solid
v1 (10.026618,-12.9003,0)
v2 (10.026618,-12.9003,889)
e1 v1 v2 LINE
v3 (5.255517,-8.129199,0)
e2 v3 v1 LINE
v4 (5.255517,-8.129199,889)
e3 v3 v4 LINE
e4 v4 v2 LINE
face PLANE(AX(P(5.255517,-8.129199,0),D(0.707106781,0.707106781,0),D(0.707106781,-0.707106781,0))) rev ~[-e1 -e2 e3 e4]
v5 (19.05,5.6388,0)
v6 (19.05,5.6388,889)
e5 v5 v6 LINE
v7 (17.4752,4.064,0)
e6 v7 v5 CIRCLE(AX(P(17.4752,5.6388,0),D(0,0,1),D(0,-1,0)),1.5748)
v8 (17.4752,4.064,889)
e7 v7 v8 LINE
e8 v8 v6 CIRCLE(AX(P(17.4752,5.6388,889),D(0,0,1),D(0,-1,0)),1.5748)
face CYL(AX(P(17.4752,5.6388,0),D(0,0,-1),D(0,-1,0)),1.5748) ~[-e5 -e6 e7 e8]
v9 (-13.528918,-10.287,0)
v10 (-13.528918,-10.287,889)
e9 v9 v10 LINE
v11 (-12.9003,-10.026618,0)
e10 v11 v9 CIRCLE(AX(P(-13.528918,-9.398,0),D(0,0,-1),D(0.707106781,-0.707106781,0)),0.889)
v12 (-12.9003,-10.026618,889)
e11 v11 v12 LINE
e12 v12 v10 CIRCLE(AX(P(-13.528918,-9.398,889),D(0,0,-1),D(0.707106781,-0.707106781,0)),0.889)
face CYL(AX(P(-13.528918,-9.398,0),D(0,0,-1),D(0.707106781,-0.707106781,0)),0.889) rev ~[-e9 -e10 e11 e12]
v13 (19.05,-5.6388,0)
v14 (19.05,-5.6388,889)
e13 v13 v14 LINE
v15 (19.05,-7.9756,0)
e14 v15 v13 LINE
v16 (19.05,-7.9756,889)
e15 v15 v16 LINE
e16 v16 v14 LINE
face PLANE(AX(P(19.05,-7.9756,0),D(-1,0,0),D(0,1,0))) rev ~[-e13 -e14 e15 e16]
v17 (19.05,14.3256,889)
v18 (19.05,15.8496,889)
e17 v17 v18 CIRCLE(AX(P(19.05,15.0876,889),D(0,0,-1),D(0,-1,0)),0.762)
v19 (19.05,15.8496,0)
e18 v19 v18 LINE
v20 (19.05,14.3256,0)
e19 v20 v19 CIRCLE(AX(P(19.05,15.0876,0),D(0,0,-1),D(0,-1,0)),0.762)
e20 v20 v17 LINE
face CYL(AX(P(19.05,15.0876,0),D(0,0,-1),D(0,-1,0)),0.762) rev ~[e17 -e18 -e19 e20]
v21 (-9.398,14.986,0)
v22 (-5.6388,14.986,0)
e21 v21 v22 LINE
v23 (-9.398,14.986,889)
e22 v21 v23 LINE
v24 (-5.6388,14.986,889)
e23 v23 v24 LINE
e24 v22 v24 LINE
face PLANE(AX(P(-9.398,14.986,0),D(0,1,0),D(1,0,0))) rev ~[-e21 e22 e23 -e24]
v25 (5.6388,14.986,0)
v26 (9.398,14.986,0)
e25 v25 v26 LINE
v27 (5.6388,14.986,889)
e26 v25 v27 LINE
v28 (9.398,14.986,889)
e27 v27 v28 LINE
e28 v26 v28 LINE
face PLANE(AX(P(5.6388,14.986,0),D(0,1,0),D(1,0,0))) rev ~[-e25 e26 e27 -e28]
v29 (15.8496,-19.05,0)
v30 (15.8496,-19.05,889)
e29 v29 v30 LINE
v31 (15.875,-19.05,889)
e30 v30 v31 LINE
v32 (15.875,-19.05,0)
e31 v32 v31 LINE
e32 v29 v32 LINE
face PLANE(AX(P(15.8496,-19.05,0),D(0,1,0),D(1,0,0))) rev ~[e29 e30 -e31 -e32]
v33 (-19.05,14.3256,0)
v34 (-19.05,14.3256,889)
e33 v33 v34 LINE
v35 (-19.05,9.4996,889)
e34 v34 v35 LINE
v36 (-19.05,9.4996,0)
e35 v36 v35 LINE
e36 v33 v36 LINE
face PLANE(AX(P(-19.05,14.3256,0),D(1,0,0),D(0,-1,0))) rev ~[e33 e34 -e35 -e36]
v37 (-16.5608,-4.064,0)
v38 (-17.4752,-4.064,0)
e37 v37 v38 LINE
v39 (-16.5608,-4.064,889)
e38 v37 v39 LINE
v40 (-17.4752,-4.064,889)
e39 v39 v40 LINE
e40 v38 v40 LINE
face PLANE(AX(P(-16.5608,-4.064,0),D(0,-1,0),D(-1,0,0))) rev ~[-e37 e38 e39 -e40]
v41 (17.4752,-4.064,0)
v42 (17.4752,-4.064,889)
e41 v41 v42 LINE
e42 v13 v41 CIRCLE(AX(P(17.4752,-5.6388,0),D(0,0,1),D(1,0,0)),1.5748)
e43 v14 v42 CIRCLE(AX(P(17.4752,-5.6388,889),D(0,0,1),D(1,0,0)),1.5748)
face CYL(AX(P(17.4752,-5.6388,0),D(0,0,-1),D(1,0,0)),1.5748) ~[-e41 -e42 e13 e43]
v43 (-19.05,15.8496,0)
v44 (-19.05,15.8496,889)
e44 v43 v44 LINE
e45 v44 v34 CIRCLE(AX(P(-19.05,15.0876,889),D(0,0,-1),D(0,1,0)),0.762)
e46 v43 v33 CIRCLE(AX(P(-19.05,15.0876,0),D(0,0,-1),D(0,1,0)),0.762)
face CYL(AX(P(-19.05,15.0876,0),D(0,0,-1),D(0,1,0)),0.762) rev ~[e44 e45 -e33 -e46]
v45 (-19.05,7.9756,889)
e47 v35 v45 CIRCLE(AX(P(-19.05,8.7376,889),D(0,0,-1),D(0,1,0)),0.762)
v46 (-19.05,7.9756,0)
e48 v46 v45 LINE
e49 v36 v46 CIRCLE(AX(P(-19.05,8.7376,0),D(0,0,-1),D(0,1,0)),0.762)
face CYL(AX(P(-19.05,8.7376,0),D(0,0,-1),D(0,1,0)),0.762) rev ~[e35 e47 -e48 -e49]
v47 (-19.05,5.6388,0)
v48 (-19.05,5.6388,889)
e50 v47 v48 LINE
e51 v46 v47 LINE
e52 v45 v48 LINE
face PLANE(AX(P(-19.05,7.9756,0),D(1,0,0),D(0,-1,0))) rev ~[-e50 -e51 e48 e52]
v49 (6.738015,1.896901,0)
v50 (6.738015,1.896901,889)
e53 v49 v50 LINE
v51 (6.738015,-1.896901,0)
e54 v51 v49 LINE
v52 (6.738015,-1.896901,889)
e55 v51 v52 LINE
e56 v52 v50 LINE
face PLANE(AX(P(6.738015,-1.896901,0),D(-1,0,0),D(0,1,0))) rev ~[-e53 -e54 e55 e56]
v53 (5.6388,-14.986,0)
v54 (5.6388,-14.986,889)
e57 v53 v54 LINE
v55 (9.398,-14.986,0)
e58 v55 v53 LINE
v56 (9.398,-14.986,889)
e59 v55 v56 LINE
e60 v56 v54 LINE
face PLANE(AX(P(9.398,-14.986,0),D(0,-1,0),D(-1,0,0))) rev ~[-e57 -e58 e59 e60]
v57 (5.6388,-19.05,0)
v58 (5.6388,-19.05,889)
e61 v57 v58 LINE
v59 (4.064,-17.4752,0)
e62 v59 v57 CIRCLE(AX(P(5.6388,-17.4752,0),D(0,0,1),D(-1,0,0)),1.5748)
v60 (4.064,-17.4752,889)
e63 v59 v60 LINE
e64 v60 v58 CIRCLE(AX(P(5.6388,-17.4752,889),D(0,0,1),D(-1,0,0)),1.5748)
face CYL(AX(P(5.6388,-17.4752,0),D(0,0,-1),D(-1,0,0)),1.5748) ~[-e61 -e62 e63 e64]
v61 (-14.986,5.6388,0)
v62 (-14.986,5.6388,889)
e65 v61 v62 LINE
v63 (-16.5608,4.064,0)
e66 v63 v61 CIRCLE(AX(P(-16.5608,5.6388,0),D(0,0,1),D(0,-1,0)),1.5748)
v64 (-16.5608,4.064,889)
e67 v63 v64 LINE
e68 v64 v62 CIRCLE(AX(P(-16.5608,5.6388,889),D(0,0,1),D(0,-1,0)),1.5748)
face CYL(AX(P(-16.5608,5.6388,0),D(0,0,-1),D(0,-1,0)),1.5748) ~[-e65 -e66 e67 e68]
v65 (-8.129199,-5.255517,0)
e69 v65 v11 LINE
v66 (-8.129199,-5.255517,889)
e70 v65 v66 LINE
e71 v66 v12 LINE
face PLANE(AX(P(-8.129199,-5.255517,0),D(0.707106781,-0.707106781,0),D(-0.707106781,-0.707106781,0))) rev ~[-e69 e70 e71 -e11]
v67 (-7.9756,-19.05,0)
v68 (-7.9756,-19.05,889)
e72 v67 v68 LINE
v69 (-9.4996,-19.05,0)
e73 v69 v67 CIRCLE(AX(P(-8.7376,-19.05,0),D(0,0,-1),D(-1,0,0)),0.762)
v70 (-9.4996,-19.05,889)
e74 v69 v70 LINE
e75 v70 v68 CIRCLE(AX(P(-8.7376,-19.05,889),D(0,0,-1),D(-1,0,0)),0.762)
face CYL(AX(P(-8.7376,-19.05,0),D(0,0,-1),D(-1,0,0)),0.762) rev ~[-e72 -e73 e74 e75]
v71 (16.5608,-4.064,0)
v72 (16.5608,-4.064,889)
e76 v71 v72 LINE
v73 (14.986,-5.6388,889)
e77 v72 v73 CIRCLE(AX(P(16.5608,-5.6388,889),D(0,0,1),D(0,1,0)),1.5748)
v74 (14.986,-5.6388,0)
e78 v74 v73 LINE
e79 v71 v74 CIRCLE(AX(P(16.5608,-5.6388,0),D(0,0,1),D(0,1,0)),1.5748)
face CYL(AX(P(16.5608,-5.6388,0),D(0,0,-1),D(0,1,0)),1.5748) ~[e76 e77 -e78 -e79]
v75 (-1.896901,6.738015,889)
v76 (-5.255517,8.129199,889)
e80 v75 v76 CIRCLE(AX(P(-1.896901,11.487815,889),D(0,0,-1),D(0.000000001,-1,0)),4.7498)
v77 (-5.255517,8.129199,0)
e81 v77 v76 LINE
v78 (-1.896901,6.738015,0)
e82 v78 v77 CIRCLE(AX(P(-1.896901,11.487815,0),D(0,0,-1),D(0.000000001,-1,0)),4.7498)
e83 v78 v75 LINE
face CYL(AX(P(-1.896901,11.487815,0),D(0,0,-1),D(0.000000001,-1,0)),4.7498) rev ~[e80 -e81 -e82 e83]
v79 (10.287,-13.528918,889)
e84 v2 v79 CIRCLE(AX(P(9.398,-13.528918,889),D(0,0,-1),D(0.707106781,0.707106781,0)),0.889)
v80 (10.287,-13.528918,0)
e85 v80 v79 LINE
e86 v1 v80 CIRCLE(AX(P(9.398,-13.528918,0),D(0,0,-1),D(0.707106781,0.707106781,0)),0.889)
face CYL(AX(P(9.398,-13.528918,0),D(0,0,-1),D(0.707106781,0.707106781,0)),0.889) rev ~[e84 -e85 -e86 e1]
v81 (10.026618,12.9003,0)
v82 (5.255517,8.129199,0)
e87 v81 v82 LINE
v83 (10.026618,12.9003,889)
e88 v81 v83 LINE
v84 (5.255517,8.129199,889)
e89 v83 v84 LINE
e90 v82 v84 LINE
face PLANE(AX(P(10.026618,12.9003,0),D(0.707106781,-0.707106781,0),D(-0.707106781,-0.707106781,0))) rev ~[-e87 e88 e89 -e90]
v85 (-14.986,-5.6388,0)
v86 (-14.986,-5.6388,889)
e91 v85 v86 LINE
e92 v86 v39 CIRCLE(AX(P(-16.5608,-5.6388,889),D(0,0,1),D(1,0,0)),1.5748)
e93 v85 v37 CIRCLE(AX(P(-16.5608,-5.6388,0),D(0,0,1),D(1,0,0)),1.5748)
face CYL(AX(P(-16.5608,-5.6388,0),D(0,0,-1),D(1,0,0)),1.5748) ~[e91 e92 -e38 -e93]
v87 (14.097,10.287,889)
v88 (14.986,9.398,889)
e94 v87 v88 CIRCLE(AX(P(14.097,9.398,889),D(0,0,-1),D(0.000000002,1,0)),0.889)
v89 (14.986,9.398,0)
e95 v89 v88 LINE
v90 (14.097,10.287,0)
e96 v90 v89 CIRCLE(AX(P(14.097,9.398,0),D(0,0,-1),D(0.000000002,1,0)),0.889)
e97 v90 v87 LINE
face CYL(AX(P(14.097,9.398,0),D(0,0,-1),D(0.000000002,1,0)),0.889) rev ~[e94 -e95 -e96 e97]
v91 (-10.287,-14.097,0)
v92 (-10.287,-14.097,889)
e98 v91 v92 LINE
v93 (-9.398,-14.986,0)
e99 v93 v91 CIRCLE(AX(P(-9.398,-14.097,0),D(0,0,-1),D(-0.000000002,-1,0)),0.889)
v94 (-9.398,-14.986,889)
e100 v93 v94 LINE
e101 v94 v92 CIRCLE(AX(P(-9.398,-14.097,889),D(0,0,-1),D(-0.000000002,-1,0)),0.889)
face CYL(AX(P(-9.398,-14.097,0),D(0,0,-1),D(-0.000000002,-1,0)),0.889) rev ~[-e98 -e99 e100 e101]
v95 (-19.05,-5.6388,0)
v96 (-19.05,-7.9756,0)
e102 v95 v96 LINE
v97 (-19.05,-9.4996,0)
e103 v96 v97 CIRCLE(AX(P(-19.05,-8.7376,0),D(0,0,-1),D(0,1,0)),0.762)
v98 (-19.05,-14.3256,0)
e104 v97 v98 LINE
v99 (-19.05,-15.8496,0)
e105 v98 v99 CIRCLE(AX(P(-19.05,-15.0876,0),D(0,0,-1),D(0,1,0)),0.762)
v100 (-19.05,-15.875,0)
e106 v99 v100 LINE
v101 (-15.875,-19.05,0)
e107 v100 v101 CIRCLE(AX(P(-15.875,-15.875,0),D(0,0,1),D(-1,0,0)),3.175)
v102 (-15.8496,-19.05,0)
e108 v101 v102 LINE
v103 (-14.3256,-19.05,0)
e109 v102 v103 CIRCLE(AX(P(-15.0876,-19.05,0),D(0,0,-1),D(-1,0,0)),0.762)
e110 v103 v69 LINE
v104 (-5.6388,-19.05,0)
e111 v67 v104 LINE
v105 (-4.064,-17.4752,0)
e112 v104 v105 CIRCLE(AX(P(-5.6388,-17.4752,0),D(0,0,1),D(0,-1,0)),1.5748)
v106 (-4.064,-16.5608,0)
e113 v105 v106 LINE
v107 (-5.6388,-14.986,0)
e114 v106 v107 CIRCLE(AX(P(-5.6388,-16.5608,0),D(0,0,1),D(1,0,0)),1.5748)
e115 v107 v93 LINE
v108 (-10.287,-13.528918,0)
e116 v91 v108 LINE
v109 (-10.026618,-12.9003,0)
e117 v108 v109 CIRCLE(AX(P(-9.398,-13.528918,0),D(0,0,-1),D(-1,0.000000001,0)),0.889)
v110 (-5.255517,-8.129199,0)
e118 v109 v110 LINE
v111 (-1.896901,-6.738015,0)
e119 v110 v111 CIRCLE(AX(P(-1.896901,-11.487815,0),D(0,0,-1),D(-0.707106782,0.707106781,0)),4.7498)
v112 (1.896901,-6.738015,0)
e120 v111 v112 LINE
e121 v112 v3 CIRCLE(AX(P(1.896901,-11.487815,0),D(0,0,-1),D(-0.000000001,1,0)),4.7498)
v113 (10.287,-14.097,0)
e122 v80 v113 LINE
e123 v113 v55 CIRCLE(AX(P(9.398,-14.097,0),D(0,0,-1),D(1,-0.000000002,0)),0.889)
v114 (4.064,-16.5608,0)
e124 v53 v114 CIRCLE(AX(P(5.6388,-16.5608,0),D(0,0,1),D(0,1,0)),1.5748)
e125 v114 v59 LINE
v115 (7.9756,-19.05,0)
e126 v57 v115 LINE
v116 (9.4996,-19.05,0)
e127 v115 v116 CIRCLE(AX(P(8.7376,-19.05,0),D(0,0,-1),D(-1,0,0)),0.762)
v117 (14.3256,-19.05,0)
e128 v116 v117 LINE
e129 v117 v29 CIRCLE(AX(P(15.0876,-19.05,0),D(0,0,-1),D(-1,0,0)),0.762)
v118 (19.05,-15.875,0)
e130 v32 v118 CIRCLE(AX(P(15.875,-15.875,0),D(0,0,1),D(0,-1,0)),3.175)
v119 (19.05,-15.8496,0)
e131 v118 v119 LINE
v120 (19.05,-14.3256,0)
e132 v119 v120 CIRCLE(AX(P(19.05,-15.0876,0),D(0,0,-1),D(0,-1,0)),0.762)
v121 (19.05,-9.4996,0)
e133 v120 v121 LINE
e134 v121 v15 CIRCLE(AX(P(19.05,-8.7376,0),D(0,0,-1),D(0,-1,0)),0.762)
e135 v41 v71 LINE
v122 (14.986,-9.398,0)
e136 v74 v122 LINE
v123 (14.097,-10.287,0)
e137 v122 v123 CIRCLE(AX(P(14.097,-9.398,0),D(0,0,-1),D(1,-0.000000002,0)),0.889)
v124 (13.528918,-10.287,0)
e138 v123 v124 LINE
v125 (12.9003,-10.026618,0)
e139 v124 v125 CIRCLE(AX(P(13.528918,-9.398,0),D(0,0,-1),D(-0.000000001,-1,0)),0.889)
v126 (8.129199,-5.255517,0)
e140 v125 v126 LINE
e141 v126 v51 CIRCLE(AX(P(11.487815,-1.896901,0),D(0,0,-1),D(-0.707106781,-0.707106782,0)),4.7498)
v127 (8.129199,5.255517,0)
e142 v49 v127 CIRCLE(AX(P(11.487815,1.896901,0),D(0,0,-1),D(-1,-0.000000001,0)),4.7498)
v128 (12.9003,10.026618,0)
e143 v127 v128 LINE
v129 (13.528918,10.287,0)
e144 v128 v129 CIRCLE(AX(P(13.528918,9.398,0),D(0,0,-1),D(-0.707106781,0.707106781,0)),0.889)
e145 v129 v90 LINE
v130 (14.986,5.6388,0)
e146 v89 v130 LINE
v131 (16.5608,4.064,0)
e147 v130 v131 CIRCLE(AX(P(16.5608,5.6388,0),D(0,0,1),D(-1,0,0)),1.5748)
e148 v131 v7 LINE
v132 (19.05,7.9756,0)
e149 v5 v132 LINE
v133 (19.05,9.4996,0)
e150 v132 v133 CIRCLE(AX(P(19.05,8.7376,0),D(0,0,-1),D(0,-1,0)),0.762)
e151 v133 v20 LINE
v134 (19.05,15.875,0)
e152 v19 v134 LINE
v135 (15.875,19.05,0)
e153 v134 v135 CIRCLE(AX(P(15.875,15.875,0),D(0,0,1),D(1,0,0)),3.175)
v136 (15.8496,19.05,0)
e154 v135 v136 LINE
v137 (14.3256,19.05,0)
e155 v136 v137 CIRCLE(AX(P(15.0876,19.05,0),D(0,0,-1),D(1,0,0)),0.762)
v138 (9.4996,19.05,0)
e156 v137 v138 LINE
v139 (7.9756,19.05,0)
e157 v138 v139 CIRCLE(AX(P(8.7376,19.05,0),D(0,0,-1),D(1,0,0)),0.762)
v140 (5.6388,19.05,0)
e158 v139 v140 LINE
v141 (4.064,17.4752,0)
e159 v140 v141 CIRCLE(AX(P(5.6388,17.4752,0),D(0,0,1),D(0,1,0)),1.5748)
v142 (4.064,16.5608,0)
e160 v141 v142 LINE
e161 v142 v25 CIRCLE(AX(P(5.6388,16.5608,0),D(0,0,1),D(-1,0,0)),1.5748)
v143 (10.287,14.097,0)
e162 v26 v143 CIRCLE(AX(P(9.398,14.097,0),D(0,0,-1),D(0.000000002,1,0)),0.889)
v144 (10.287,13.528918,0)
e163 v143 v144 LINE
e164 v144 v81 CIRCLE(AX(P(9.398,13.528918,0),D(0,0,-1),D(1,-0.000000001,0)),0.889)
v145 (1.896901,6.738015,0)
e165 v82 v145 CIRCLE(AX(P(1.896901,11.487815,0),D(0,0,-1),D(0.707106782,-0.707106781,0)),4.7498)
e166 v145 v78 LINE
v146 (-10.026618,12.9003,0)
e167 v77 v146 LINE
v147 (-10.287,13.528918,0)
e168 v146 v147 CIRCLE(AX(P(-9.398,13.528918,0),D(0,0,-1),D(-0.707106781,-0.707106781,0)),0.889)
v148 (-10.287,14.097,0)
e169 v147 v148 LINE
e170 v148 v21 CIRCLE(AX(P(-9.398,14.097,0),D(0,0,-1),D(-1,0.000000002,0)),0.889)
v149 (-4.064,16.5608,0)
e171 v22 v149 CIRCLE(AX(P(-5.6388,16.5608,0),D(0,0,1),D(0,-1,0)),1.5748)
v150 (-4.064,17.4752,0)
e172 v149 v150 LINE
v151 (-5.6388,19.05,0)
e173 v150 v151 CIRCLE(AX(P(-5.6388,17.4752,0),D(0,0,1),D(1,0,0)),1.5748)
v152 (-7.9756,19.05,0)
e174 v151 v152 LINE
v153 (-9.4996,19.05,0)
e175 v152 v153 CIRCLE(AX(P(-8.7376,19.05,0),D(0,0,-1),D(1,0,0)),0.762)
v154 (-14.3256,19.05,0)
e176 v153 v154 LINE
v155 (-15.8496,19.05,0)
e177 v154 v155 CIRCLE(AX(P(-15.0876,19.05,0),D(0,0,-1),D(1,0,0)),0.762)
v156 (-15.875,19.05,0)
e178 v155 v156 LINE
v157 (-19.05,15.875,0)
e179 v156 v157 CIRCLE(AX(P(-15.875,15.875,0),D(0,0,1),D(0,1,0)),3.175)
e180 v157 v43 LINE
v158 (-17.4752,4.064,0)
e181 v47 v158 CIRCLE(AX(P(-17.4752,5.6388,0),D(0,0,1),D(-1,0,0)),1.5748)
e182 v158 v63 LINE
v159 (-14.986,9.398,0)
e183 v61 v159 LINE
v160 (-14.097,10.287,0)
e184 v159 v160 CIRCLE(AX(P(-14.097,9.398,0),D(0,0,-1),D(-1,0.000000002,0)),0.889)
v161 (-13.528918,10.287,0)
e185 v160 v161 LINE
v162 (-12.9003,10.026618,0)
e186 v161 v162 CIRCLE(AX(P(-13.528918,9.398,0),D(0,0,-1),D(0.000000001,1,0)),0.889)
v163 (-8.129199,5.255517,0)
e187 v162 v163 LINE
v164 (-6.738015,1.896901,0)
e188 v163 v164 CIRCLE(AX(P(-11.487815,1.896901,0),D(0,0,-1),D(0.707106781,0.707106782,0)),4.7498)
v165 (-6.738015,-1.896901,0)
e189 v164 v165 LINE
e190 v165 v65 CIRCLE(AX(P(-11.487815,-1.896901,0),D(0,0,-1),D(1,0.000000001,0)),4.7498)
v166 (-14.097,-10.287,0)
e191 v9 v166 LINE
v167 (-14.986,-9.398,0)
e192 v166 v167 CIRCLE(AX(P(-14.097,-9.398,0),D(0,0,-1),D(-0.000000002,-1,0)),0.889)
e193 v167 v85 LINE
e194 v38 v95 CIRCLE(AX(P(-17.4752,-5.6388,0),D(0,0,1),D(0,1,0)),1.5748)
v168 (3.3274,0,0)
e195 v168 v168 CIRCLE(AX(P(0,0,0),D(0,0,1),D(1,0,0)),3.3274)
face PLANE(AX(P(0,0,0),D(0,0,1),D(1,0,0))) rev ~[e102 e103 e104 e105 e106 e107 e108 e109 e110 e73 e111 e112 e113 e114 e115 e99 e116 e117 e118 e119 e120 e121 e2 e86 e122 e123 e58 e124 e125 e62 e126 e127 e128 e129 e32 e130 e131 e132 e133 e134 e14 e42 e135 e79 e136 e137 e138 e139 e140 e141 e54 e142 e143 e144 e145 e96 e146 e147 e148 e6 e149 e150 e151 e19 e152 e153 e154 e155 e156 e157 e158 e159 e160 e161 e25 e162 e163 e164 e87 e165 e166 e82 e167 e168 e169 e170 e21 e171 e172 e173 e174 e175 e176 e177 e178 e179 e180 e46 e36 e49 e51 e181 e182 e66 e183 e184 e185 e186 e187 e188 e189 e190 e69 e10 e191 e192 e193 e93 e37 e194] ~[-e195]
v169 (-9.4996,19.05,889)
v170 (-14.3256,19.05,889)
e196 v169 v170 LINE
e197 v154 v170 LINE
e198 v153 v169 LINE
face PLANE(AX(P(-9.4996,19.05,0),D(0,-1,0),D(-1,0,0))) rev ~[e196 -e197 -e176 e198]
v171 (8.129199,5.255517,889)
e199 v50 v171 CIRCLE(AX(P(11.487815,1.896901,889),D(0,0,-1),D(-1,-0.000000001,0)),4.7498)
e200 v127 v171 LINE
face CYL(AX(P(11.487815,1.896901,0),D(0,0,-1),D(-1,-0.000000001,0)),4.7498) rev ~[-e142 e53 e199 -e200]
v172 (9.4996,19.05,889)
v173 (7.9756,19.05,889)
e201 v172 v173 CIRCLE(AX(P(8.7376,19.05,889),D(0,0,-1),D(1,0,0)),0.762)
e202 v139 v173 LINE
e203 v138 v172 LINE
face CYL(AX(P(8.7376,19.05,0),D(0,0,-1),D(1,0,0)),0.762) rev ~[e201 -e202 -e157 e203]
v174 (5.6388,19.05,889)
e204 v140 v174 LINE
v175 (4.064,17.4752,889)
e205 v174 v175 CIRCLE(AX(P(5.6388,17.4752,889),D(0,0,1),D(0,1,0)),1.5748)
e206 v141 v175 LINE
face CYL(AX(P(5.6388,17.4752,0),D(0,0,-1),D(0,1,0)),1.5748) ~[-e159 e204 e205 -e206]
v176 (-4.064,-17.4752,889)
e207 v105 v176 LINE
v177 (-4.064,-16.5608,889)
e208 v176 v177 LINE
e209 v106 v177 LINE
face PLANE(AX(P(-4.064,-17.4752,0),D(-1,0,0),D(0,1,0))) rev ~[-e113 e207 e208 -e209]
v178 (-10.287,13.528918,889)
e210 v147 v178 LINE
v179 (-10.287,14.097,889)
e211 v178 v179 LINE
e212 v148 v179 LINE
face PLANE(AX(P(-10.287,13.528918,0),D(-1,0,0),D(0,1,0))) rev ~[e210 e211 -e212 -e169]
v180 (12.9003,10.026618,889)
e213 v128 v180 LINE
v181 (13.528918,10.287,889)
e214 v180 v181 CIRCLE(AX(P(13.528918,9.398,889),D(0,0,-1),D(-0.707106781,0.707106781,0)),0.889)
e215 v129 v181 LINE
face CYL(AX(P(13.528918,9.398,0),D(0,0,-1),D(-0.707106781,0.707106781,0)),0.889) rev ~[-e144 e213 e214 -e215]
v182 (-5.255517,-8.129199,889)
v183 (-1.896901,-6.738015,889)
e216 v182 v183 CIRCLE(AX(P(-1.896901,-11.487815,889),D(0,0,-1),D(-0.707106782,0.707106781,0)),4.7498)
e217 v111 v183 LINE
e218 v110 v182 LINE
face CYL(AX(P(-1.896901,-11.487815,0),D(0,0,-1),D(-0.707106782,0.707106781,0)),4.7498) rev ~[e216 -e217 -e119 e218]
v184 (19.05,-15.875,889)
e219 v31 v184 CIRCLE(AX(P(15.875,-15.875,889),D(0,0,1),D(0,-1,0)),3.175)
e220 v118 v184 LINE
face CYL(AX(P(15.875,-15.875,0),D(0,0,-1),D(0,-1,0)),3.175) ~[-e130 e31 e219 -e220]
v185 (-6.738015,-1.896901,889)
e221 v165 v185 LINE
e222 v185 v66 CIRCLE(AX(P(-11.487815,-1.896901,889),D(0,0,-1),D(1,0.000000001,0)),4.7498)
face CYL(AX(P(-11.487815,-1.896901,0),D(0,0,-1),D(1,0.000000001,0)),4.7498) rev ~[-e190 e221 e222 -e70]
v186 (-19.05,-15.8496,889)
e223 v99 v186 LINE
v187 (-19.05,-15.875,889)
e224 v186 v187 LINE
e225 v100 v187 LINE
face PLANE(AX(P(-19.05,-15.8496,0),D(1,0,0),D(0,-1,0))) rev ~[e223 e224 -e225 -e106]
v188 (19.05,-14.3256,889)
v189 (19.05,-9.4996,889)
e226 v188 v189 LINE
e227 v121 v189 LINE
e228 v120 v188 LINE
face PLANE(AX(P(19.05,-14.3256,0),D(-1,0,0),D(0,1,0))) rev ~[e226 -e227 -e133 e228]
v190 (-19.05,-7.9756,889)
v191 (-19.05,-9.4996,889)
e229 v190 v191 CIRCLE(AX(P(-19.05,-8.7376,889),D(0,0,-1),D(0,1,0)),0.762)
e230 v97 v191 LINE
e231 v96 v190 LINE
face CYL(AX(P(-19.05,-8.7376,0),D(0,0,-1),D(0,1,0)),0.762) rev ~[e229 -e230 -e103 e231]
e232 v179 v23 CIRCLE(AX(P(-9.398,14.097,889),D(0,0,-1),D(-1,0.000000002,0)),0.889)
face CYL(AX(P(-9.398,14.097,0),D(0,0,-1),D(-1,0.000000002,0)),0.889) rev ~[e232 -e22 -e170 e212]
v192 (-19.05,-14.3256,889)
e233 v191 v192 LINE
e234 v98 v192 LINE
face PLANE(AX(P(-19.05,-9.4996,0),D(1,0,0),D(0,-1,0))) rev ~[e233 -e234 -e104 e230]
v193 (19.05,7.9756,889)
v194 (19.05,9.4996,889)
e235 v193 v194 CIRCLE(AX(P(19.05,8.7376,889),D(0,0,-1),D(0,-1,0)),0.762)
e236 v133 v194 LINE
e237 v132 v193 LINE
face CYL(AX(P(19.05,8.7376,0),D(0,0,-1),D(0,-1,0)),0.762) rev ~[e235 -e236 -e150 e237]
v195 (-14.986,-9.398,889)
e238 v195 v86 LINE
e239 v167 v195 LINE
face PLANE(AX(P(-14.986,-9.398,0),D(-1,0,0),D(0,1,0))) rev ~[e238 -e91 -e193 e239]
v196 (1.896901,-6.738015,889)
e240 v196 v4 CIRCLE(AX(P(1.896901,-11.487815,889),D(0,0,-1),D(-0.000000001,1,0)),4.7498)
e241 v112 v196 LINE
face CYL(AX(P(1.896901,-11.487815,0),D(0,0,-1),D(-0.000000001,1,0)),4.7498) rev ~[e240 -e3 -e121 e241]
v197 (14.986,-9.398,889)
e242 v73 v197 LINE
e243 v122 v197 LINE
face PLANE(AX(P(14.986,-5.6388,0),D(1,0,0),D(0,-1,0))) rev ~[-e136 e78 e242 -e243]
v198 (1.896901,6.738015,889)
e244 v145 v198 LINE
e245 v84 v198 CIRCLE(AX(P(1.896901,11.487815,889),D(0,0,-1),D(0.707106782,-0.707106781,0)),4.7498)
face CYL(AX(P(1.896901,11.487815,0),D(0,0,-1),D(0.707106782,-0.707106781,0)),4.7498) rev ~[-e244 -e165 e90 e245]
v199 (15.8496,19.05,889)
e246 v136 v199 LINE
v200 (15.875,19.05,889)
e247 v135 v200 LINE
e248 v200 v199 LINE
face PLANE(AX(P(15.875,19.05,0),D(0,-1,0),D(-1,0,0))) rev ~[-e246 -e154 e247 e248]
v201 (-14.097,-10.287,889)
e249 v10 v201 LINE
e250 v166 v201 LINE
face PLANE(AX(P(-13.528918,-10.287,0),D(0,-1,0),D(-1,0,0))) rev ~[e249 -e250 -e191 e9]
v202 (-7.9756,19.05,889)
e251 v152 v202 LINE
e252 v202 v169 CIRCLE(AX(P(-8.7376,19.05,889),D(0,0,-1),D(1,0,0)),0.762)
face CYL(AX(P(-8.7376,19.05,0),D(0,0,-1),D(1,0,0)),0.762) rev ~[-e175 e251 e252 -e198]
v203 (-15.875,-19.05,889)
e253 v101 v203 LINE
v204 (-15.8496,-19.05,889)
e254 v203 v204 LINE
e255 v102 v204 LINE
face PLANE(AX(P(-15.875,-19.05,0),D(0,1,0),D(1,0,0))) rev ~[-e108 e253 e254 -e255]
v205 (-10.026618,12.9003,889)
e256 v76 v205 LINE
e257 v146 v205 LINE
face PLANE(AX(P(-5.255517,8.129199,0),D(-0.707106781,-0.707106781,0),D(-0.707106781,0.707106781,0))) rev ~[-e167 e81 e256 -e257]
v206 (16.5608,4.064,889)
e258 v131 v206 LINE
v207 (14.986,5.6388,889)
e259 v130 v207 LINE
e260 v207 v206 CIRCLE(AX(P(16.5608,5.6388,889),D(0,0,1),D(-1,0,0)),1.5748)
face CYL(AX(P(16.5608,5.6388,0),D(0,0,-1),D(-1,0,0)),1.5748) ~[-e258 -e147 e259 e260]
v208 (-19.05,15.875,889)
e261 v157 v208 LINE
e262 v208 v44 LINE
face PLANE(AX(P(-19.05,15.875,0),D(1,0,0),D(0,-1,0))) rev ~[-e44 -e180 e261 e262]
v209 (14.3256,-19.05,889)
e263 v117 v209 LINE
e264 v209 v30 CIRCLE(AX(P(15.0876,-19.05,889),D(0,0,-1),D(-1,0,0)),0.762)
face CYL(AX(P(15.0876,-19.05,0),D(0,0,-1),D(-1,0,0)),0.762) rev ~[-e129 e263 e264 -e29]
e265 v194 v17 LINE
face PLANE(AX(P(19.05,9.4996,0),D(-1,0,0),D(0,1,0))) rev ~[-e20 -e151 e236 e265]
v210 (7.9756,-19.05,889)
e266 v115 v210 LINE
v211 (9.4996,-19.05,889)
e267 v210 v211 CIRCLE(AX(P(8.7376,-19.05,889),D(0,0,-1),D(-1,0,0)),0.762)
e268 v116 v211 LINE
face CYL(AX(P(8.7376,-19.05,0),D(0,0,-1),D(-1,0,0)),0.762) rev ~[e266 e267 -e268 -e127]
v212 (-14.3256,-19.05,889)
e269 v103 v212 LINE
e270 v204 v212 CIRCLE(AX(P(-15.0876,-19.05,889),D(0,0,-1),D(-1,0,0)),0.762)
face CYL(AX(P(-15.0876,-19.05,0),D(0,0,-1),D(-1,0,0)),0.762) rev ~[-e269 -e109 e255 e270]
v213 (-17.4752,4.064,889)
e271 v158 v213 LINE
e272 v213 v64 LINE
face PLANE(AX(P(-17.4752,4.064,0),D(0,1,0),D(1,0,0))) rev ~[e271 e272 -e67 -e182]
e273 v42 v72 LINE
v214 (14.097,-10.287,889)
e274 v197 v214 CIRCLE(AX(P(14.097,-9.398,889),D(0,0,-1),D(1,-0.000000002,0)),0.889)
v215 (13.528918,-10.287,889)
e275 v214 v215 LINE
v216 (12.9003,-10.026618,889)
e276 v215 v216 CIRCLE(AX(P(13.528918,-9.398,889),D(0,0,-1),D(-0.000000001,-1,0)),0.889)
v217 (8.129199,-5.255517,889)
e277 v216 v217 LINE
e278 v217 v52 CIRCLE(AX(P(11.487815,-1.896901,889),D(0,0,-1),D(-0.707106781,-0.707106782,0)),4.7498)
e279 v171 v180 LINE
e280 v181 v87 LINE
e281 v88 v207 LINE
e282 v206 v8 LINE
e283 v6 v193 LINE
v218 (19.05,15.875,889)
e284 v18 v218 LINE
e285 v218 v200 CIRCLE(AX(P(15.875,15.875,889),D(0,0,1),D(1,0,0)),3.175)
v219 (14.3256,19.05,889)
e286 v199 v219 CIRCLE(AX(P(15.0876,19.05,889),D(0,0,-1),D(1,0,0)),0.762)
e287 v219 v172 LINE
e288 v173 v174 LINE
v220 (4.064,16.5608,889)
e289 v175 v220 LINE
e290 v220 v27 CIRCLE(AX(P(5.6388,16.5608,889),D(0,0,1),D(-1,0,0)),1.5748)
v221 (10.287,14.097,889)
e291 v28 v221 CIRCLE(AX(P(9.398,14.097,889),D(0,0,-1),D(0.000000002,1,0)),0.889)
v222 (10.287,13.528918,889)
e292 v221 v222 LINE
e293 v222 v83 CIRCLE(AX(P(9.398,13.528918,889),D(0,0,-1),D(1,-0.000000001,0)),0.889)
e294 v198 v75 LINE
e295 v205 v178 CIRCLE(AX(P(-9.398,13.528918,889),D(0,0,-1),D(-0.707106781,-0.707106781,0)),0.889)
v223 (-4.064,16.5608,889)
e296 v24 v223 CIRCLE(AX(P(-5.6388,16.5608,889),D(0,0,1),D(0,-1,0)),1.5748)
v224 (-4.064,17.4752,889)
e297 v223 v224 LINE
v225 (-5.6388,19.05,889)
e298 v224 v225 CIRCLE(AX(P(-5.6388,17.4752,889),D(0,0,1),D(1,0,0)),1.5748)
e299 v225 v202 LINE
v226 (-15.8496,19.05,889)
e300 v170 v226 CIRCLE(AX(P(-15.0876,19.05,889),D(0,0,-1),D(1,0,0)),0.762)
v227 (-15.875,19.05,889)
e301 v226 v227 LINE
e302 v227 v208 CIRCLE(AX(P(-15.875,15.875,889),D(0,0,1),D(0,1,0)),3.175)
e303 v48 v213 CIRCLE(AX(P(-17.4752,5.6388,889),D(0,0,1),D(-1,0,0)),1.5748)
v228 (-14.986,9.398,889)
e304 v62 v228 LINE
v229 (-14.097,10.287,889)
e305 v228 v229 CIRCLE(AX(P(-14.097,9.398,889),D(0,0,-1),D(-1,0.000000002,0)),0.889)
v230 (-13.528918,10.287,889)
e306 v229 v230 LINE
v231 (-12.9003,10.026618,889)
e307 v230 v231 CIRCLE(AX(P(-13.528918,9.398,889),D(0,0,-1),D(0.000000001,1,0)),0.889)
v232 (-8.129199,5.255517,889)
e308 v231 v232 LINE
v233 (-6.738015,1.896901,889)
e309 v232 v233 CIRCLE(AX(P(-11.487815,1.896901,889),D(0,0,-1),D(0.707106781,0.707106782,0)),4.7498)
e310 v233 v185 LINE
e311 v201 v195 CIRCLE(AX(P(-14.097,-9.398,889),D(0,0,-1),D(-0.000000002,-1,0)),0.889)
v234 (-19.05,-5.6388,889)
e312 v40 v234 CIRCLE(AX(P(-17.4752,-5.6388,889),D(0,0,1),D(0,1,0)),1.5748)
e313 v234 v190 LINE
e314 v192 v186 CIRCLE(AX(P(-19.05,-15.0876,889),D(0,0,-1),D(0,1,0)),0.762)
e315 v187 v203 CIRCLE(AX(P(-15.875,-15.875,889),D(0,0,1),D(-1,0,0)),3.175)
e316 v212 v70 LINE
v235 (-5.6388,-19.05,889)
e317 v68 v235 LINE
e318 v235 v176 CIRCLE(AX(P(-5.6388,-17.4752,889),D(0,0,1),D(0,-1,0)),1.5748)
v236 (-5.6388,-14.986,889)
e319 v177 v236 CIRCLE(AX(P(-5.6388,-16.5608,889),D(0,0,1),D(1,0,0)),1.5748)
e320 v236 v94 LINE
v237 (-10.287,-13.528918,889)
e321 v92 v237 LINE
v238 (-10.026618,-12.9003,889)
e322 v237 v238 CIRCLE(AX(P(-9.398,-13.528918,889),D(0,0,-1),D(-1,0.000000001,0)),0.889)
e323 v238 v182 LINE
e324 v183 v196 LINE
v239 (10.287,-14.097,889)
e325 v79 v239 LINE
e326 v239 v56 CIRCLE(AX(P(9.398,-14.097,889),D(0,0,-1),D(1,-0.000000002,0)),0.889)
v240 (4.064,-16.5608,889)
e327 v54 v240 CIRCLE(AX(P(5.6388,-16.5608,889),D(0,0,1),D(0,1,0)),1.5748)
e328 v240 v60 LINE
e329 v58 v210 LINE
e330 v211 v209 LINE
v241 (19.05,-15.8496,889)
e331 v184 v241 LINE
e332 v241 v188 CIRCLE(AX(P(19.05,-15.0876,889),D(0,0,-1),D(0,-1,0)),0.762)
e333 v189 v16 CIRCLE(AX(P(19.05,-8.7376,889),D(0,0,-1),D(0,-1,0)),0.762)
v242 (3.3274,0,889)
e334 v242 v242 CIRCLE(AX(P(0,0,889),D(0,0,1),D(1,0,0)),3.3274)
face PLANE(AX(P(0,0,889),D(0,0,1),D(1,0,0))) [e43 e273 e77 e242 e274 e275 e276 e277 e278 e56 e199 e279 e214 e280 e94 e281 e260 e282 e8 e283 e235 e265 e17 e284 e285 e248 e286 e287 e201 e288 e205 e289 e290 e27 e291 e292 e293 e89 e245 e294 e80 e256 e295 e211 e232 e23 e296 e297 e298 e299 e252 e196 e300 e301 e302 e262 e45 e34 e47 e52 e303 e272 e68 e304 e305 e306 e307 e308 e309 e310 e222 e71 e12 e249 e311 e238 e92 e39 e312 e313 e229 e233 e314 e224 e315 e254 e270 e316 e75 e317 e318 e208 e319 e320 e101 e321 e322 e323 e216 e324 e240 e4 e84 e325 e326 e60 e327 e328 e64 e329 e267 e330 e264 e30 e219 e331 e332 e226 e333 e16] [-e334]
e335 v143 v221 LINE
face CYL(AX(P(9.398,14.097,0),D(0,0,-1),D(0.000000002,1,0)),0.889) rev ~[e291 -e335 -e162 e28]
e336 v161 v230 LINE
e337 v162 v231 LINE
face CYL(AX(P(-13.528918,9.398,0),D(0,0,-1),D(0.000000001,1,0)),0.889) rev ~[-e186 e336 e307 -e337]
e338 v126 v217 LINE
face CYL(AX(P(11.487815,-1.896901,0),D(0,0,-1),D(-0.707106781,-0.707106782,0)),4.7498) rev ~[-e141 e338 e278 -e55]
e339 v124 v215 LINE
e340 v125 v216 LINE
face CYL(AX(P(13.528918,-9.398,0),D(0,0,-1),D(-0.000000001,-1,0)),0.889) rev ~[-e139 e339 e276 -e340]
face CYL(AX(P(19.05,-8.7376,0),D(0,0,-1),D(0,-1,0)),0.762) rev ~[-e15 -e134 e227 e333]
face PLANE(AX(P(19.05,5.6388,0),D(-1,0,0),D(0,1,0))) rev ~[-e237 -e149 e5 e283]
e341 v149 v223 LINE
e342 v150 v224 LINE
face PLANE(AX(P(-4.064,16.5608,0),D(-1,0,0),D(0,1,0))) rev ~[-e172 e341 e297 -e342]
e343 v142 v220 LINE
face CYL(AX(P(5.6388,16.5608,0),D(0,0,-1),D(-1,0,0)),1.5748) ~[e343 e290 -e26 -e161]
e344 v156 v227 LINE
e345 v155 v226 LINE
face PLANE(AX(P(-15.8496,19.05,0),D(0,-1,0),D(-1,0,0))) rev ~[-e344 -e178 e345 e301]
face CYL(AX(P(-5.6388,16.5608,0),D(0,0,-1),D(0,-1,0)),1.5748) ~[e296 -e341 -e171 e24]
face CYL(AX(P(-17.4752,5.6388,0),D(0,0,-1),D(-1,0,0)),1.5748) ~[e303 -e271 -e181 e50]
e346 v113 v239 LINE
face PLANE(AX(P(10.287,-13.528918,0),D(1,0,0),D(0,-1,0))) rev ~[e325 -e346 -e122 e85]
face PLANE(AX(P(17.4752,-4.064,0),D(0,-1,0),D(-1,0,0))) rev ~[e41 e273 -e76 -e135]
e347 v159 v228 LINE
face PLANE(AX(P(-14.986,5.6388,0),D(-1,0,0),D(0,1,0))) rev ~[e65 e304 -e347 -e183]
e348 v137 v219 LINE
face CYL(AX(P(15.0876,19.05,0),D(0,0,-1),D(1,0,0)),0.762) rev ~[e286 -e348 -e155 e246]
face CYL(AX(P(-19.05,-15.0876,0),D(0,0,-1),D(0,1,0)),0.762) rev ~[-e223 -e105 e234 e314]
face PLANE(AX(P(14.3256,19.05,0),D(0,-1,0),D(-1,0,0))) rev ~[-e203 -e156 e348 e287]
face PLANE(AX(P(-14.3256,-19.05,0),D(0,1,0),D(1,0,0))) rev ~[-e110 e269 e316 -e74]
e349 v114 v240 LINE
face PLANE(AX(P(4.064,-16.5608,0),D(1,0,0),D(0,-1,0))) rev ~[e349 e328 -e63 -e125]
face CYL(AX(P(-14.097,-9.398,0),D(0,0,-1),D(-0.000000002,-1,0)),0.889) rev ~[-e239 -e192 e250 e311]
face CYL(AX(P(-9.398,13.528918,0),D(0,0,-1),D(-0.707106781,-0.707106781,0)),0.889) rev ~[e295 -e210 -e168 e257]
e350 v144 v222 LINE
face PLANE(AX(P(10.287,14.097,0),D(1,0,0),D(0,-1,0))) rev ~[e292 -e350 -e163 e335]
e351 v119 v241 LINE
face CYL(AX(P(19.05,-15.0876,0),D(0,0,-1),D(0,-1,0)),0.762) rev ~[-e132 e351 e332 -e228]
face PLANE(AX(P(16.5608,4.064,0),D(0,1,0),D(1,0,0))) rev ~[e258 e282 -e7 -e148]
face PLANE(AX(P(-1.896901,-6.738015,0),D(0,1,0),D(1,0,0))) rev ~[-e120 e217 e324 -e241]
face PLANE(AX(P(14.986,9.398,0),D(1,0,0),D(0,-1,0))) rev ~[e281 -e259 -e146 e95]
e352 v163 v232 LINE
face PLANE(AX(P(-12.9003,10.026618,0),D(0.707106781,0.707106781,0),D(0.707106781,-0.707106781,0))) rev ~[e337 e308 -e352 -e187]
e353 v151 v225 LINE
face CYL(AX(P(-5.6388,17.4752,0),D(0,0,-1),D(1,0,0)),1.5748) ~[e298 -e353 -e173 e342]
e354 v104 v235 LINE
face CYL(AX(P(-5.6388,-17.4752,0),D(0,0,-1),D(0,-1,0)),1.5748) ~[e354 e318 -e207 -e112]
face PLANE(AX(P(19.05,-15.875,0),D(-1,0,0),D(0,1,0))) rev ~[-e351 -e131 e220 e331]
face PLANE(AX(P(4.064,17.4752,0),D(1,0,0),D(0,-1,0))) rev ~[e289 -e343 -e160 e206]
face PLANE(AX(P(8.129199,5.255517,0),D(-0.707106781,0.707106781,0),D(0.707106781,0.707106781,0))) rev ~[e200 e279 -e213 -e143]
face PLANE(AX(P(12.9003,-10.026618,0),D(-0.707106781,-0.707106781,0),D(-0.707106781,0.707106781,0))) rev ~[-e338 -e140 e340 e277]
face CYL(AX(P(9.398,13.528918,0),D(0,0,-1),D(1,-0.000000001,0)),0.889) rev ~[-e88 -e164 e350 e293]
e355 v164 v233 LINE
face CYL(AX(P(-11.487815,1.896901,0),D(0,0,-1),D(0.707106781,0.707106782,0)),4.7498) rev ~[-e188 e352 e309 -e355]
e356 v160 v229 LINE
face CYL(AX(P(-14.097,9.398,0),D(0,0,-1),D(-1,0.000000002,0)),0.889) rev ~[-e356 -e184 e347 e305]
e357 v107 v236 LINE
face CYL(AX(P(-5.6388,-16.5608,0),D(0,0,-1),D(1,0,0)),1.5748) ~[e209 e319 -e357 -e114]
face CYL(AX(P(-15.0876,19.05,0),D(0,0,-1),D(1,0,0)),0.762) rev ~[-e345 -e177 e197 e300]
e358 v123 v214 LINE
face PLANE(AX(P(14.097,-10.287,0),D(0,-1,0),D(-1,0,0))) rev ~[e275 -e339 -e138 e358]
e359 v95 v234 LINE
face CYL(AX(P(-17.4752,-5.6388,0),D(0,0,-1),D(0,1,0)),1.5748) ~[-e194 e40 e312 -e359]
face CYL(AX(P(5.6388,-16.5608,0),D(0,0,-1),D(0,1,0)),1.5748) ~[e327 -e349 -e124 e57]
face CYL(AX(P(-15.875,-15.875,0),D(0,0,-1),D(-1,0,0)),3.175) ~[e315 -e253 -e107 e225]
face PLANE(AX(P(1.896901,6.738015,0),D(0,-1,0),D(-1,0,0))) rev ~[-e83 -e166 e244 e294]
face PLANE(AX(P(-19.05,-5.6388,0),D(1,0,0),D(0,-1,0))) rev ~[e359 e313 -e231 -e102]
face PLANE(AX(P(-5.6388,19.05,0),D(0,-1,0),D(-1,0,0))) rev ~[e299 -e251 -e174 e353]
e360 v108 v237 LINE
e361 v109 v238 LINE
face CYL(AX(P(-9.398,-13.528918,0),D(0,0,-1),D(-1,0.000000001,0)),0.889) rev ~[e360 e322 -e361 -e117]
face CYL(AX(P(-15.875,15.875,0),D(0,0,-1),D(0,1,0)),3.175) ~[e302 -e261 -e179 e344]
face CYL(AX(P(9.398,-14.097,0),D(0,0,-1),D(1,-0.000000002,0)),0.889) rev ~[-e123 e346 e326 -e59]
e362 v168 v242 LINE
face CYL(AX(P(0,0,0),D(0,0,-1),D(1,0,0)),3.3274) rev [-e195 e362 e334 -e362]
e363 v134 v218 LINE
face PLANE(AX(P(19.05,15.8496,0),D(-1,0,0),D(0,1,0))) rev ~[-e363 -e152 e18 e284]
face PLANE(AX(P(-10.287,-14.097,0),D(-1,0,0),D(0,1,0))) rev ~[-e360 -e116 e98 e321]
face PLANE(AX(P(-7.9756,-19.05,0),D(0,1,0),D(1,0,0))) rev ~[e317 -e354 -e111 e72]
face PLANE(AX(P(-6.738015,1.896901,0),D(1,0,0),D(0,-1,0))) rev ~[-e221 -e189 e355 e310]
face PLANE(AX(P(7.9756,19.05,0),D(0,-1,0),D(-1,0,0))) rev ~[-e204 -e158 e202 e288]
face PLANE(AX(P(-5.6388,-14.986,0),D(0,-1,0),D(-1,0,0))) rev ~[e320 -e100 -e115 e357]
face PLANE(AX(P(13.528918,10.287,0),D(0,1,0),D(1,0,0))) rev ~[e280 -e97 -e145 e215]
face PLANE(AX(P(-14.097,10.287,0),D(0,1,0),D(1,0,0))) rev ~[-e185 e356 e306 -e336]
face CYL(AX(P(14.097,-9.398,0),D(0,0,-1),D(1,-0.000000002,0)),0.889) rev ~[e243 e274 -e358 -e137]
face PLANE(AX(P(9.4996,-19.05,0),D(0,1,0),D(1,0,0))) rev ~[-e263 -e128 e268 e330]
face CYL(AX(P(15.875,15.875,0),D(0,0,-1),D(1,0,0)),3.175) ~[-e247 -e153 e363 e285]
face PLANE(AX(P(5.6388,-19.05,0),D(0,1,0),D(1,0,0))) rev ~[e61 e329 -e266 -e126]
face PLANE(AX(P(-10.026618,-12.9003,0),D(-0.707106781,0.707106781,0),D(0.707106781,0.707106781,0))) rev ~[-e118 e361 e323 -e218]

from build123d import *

# Parameters (mm, degrees)
SKETCH1_R           = 3.3274
BOSS_EXTRUDE1_DEPTH = 889


with BuildPart() as part:
    # Sketch1 → Boss-Extrude1 (new body)
    with BuildSketch(Plane.XY):
        with BuildLine():
            Line((-14.097, 10.287), (-13.528918, 10.287))
            ThreePointArc((-13.528918, 10.287), (-13.188712428, 10.219328904), (-12.900300071, 10.026617928))
            Line((-12.900300071, 10.026617928), (-8.129198975, 5.255516832))
            ThreePointArc((-8.129198975, 5.255516832), (-7.09957176, 3.71457081), (-6.738014764, 1.896901043))
            Line((-6.738014764, 1.896901043), (-6.738014764, -1.896901043))
            ThreePointArc((-6.738014764, -1.896901043), (-7.09957176, -3.71457081), (-8.129198975, -5.255516832))
            Line((-8.129198975, -5.255516832), (-12.900300071, -10.026617928))
            ThreePointArc((-12.900300071, -10.026617928), (-13.188712428, -10.219328904), (-13.528918, -10.287))
            Line((-13.528918, -10.287), (-14.097, -10.287))
            ThreePointArc((-14.097, -10.287), (-14.725617928, -10.026617928), (-14.986, -9.398))
            Line((-14.986, -9.398), (-14.986, -5.6388))
            ThreePointArc((-14.986, -5.6388), (-15.447248241, -4.525248241), (-16.5608, -4.064))
            Line((-16.5608, -4.064), (-17.4752, -4.064))
            ThreePointArc((-17.4752, -4.064), (-18.588751759, -4.525248241), (-19.05, -5.6388))
            Line((-19.05, -5.6388), (-19.05, -7.9756))
            ThreePointArc((-19.05, -7.9756), (-18.288, -8.7376), (-19.05, -9.4996))
            Line((-19.05, -9.4996), (-19.05, -14.3256))
            ThreePointArc((-19.05, -14.3256), (-18.288, -15.0876), (-19.05, -15.8496))
            Line((-19.05, -15.8496), (-19.05, -15.875))
            ThreePointArc((-19.05, -15.875), (-18.12006403, -18.12006403), (-15.875, -19.05))
            Line((-15.875, -19.05), (-15.8496, -19.05))
            ThreePointArc((-15.8496, -19.05), (-15.0876, -18.288), (-14.3256, -19.05))
            Line((-14.3256, -19.05), (-9.4996, -19.05))
            ThreePointArc((-9.4996, -19.05), (-8.7376, -18.288), (-7.9756, -19.05))
            Line((-7.9756, -19.05), (-5.6388, -19.05))
            ThreePointArc((-5.6388, -19.05), (-4.525248241, -18.588751759), (-4.064, -17.4752))
            Line((-4.064, -17.4752), (-4.064, -16.5608))
            ThreePointArc((-4.064, -16.5608), (-4.525248241, -15.447248241), (-5.6388, -14.986))
            Line((-5.6388, -14.986), (-9.398, -14.986))
            ThreePointArc((-9.398, -14.986), (-10.026617928, -14.725617928), (-10.287, -14.097))
            Line((-10.287, -14.097), (-10.287, -13.528918))
            ThreePointArc((-10.287, -13.528918), (-10.219328904, -13.188712428), (-10.026617928, -12.900300071))
            Line((-10.026617928, -12.900300071), (-5.255516832, -8.129198975))
            ThreePointArc((-5.255516832, -8.129198975), (-3.71457081, -7.09957176), (-1.896901043, -6.738014764))
            Line((-1.896901043, -6.738014764), (1.896901043, -6.738014764))
            ThreePointArc((1.896901043, -6.738014764), (3.71457081, -7.09957176), (5.255516832, -8.129198975))
            Line((5.255516832, -8.129198975), (10.026617928, -12.900300071))
            ThreePointArc((10.026617928, -12.900300071), (10.219328904, -13.188712428), (10.287, -13.528918))
            Line((10.287, -13.528918), (10.287, -14.097))
            ThreePointArc((10.287, -14.097), (10.026617928, -14.725617928), (9.398, -14.986))
            Line((9.398, -14.986), (5.6388, -14.986))
            ThreePointArc((5.6388, -14.986), (4.525248241, -15.447248241), (4.064, -16.5608))
            Line((4.064, -16.5608), (4.064, -17.4752))
            ThreePointArc((4.064, -17.4752), (4.525248241, -18.588751759), (5.6388, -19.05))
            Line((5.6388, -19.05), (7.9756, -19.05))
            ThreePointArc((7.9756, -19.05), (8.7376, -18.288), (9.4996, -19.05))
            Line((9.4996, -19.05), (14.3256, -19.05))
            ThreePointArc((14.3256, -19.05), (15.0876, -18.288), (15.8496, -19.05))
            Line((15.8496, -19.05), (15.875, -19.05))
            ThreePointArc((15.875, -19.05), (18.12006403, -18.12006403), (19.05, -15.875))
            Line((19.05, -15.875), (19.05, -15.8496))
            ThreePointArc((19.05, -15.8496), (18.288, -15.0876), (19.05, -14.3256))
            Line((19.05, -14.3256), (19.05, -9.4996))
            ThreePointArc((19.05, -9.4996), (18.288, -8.7376), (19.05, -7.9756))
            Line((19.05, -7.9756), (19.05, -5.6388))
            ThreePointArc((19.05, -5.6388), (18.588751759, -4.525248241), (17.4752, -4.064))
            Line((17.4752, -4.064), (16.5608, -4.064))
            ThreePointArc((16.5608, -4.064), (15.447248241, -4.525248241), (14.986, -5.6388))
            Line((14.986, -5.6388), (14.986, -9.398))
            ThreePointArc((14.986, -9.398), (14.725617928, -10.026617928), (14.097, -10.287))
            Line((14.097, -10.287), (13.528918, -10.287))
            ThreePointArc((13.528918, -10.287), (13.188712428, -10.219328904), (12.900300071, -10.026617928))
            Line((12.900300071, -10.026617928), (8.129198975, -5.255516832))
            ThreePointArc((8.129198975, -5.255516832), (7.09957176, -3.71457081), (6.738014764, -1.896901043))
            Line((6.738014764, -1.896901043), (6.738014764, 1.896901043))
            ThreePointArc((6.738014764, 1.896901043), (7.09957176, 3.71457081), (8.129198975, 5.255516832))
            Line((8.129198975, 5.255516832), (12.900300071, 10.026617928))
            ThreePointArc((12.900300071, 10.026617928), (13.188712428, 10.219328904), (13.528918, 10.287))
            Line((13.528918, 10.287), (14.097, 10.287))
            ThreePointArc((14.097, 10.287), (14.725617928, 10.026617928), (14.986, 9.398))
            Line((14.986, 9.398), (14.986, 5.6388))
            ThreePointArc((14.986, 5.6388), (15.447248241, 4.525248241), (16.5608, 4.064))
            Line((16.5608, 4.064), (17.4752, 4.064))
            ThreePointArc((17.4752, 4.064), (18.588751759, 4.525248241), (19.05, 5.6388))
            Line((19.05, 5.6388), (19.05, 7.9756))
            ThreePointArc((19.05, 7.9756), (18.288, 8.7376), (19.05, 9.4996))
            Line((19.05, 9.4996), (19.05, 14.3256))
            ThreePointArc((19.05, 14.3256), (18.288, 15.0876), (19.05, 15.8496))
            Line((19.05, 15.8496), (19.05, 15.875))
            ThreePointArc((19.05, 15.875), (18.12006403, 18.12006403), (15.875, 19.05))
            Line((15.875, 19.05), (15.8496, 19.05))
            ThreePointArc((15.8496, 19.05), (15.0876, 18.288), (14.3256, 19.05))
            Line((14.3256, 19.05), (9.4996, 19.05))
            ThreePointArc((9.4996, 19.05), (8.7376, 18.288), (7.9756, 19.05))
            Line((7.9756, 19.05), (5.6388, 19.05))
            ThreePointArc((5.6388, 19.05), (4.525248241, 18.588751759), (4.064, 17.4752))
            Line((4.064, 17.4752), (4.064, 16.5608))
            ThreePointArc((4.064, 16.5608), (4.525248241, 15.447248241), (5.6388, 14.986))
            Line((5.6388, 14.986), (9.398, 14.986))
            ThreePointArc((9.398, 14.986), (10.026617928, 14.725617928), (10.287, 14.097))
            Line((10.287, 14.097), (10.287, 13.528918))
            ThreePointArc((10.287, 13.528918), (10.219328904, 13.188712428), (10.026617928, 12.900300071))
            Line((10.026617928, 12.900300071), (5.255516832, 8.129198975))
            ThreePointArc((5.255516832, 8.129198975), (3.71457081, 7.09957176), (1.896901043, 6.738014764))
            Line((1.896901043, 6.738014764), (-1.896901043, 6.738014764))
            ThreePointArc((-1.896901043, 6.738014764), (-3.71457081, 7.09957176), (-5.255516832, 8.129198975))
            Line((-5.255516832, 8.129198975), (-10.026617928, 12.900300071))
            ThreePointArc((-10.026617928, 12.900300071), (-10.219328904, 13.188712428), (-10.287, 13.528918))
            Line((-10.287, 13.528918), (-10.287, 14.097))
            ThreePointArc((-10.287, 14.097), (-10.026617928, 14.725617928), (-9.398, 14.986))
            Line((-9.398, 14.986), (-5.6388, 14.986))
            ThreePointArc((-5.6388, 14.986), (-4.525248241, 15.447248241), (-4.064, 16.5608))
            Line((-4.064, 16.5608), (-4.064, 17.4752))
            ThreePointArc((-4.064, 17.4752), (-4.525248241, 18.588751759), (-5.6388, 19.05))
            Line((-5.6388, 19.05), (-7.9756, 19.05))
            ThreePointArc((-7.9756, 19.05), (-8.7376, 18.288), (-9.4996, 19.05))
            Line((-9.4996, 19.05), (-14.3256, 19.05))
            ThreePointArc((-14.3256, 19.05), (-15.0876, 18.288), (-15.8496, 19.05))
            Line((-15.8496, 19.05), (-15.875, 19.05))
            ThreePointArc((-15.875, 19.05), (-18.12006403, 18.12006403), (-19.05, 15.875))
            Line((-19.05, 15.875), (-19.05, 15.8496))
            ThreePointArc((-19.05, 15.8496), (-18.288, 15.0876), (-19.05, 14.3256))
            Line((-19.05, 14.3256), (-19.05, 9.4996))
            ThreePointArc((-19.05, 9.4996), (-18.288, 8.7376), (-19.05, 7.9756))
            Line((-19.05, 7.9756), (-19.05, 5.6388))
            ThreePointArc((-19.05, 5.6388), (-18.588751759, 4.525248241), (-17.4752, 4.064))
            Line((-17.4752, 4.064), (-16.5608, 4.064))
            ThreePointArc((-16.5608, 4.064), (-15.447248241, 4.525248241), (-14.986, 5.6388))
            Line((-14.986, 5.6388), (-14.986, 9.398))
            ThreePointArc((-14.986, 9.398), (-14.725617928, 10.026617928), (-14.097, 10.287))
        make_face()
        Circle(SKETCH1_R, mode=Mode.SUBTRACT)
    extrude(amount=BOSS_EXTRUDE1_DEPTH)


solid = part.part
